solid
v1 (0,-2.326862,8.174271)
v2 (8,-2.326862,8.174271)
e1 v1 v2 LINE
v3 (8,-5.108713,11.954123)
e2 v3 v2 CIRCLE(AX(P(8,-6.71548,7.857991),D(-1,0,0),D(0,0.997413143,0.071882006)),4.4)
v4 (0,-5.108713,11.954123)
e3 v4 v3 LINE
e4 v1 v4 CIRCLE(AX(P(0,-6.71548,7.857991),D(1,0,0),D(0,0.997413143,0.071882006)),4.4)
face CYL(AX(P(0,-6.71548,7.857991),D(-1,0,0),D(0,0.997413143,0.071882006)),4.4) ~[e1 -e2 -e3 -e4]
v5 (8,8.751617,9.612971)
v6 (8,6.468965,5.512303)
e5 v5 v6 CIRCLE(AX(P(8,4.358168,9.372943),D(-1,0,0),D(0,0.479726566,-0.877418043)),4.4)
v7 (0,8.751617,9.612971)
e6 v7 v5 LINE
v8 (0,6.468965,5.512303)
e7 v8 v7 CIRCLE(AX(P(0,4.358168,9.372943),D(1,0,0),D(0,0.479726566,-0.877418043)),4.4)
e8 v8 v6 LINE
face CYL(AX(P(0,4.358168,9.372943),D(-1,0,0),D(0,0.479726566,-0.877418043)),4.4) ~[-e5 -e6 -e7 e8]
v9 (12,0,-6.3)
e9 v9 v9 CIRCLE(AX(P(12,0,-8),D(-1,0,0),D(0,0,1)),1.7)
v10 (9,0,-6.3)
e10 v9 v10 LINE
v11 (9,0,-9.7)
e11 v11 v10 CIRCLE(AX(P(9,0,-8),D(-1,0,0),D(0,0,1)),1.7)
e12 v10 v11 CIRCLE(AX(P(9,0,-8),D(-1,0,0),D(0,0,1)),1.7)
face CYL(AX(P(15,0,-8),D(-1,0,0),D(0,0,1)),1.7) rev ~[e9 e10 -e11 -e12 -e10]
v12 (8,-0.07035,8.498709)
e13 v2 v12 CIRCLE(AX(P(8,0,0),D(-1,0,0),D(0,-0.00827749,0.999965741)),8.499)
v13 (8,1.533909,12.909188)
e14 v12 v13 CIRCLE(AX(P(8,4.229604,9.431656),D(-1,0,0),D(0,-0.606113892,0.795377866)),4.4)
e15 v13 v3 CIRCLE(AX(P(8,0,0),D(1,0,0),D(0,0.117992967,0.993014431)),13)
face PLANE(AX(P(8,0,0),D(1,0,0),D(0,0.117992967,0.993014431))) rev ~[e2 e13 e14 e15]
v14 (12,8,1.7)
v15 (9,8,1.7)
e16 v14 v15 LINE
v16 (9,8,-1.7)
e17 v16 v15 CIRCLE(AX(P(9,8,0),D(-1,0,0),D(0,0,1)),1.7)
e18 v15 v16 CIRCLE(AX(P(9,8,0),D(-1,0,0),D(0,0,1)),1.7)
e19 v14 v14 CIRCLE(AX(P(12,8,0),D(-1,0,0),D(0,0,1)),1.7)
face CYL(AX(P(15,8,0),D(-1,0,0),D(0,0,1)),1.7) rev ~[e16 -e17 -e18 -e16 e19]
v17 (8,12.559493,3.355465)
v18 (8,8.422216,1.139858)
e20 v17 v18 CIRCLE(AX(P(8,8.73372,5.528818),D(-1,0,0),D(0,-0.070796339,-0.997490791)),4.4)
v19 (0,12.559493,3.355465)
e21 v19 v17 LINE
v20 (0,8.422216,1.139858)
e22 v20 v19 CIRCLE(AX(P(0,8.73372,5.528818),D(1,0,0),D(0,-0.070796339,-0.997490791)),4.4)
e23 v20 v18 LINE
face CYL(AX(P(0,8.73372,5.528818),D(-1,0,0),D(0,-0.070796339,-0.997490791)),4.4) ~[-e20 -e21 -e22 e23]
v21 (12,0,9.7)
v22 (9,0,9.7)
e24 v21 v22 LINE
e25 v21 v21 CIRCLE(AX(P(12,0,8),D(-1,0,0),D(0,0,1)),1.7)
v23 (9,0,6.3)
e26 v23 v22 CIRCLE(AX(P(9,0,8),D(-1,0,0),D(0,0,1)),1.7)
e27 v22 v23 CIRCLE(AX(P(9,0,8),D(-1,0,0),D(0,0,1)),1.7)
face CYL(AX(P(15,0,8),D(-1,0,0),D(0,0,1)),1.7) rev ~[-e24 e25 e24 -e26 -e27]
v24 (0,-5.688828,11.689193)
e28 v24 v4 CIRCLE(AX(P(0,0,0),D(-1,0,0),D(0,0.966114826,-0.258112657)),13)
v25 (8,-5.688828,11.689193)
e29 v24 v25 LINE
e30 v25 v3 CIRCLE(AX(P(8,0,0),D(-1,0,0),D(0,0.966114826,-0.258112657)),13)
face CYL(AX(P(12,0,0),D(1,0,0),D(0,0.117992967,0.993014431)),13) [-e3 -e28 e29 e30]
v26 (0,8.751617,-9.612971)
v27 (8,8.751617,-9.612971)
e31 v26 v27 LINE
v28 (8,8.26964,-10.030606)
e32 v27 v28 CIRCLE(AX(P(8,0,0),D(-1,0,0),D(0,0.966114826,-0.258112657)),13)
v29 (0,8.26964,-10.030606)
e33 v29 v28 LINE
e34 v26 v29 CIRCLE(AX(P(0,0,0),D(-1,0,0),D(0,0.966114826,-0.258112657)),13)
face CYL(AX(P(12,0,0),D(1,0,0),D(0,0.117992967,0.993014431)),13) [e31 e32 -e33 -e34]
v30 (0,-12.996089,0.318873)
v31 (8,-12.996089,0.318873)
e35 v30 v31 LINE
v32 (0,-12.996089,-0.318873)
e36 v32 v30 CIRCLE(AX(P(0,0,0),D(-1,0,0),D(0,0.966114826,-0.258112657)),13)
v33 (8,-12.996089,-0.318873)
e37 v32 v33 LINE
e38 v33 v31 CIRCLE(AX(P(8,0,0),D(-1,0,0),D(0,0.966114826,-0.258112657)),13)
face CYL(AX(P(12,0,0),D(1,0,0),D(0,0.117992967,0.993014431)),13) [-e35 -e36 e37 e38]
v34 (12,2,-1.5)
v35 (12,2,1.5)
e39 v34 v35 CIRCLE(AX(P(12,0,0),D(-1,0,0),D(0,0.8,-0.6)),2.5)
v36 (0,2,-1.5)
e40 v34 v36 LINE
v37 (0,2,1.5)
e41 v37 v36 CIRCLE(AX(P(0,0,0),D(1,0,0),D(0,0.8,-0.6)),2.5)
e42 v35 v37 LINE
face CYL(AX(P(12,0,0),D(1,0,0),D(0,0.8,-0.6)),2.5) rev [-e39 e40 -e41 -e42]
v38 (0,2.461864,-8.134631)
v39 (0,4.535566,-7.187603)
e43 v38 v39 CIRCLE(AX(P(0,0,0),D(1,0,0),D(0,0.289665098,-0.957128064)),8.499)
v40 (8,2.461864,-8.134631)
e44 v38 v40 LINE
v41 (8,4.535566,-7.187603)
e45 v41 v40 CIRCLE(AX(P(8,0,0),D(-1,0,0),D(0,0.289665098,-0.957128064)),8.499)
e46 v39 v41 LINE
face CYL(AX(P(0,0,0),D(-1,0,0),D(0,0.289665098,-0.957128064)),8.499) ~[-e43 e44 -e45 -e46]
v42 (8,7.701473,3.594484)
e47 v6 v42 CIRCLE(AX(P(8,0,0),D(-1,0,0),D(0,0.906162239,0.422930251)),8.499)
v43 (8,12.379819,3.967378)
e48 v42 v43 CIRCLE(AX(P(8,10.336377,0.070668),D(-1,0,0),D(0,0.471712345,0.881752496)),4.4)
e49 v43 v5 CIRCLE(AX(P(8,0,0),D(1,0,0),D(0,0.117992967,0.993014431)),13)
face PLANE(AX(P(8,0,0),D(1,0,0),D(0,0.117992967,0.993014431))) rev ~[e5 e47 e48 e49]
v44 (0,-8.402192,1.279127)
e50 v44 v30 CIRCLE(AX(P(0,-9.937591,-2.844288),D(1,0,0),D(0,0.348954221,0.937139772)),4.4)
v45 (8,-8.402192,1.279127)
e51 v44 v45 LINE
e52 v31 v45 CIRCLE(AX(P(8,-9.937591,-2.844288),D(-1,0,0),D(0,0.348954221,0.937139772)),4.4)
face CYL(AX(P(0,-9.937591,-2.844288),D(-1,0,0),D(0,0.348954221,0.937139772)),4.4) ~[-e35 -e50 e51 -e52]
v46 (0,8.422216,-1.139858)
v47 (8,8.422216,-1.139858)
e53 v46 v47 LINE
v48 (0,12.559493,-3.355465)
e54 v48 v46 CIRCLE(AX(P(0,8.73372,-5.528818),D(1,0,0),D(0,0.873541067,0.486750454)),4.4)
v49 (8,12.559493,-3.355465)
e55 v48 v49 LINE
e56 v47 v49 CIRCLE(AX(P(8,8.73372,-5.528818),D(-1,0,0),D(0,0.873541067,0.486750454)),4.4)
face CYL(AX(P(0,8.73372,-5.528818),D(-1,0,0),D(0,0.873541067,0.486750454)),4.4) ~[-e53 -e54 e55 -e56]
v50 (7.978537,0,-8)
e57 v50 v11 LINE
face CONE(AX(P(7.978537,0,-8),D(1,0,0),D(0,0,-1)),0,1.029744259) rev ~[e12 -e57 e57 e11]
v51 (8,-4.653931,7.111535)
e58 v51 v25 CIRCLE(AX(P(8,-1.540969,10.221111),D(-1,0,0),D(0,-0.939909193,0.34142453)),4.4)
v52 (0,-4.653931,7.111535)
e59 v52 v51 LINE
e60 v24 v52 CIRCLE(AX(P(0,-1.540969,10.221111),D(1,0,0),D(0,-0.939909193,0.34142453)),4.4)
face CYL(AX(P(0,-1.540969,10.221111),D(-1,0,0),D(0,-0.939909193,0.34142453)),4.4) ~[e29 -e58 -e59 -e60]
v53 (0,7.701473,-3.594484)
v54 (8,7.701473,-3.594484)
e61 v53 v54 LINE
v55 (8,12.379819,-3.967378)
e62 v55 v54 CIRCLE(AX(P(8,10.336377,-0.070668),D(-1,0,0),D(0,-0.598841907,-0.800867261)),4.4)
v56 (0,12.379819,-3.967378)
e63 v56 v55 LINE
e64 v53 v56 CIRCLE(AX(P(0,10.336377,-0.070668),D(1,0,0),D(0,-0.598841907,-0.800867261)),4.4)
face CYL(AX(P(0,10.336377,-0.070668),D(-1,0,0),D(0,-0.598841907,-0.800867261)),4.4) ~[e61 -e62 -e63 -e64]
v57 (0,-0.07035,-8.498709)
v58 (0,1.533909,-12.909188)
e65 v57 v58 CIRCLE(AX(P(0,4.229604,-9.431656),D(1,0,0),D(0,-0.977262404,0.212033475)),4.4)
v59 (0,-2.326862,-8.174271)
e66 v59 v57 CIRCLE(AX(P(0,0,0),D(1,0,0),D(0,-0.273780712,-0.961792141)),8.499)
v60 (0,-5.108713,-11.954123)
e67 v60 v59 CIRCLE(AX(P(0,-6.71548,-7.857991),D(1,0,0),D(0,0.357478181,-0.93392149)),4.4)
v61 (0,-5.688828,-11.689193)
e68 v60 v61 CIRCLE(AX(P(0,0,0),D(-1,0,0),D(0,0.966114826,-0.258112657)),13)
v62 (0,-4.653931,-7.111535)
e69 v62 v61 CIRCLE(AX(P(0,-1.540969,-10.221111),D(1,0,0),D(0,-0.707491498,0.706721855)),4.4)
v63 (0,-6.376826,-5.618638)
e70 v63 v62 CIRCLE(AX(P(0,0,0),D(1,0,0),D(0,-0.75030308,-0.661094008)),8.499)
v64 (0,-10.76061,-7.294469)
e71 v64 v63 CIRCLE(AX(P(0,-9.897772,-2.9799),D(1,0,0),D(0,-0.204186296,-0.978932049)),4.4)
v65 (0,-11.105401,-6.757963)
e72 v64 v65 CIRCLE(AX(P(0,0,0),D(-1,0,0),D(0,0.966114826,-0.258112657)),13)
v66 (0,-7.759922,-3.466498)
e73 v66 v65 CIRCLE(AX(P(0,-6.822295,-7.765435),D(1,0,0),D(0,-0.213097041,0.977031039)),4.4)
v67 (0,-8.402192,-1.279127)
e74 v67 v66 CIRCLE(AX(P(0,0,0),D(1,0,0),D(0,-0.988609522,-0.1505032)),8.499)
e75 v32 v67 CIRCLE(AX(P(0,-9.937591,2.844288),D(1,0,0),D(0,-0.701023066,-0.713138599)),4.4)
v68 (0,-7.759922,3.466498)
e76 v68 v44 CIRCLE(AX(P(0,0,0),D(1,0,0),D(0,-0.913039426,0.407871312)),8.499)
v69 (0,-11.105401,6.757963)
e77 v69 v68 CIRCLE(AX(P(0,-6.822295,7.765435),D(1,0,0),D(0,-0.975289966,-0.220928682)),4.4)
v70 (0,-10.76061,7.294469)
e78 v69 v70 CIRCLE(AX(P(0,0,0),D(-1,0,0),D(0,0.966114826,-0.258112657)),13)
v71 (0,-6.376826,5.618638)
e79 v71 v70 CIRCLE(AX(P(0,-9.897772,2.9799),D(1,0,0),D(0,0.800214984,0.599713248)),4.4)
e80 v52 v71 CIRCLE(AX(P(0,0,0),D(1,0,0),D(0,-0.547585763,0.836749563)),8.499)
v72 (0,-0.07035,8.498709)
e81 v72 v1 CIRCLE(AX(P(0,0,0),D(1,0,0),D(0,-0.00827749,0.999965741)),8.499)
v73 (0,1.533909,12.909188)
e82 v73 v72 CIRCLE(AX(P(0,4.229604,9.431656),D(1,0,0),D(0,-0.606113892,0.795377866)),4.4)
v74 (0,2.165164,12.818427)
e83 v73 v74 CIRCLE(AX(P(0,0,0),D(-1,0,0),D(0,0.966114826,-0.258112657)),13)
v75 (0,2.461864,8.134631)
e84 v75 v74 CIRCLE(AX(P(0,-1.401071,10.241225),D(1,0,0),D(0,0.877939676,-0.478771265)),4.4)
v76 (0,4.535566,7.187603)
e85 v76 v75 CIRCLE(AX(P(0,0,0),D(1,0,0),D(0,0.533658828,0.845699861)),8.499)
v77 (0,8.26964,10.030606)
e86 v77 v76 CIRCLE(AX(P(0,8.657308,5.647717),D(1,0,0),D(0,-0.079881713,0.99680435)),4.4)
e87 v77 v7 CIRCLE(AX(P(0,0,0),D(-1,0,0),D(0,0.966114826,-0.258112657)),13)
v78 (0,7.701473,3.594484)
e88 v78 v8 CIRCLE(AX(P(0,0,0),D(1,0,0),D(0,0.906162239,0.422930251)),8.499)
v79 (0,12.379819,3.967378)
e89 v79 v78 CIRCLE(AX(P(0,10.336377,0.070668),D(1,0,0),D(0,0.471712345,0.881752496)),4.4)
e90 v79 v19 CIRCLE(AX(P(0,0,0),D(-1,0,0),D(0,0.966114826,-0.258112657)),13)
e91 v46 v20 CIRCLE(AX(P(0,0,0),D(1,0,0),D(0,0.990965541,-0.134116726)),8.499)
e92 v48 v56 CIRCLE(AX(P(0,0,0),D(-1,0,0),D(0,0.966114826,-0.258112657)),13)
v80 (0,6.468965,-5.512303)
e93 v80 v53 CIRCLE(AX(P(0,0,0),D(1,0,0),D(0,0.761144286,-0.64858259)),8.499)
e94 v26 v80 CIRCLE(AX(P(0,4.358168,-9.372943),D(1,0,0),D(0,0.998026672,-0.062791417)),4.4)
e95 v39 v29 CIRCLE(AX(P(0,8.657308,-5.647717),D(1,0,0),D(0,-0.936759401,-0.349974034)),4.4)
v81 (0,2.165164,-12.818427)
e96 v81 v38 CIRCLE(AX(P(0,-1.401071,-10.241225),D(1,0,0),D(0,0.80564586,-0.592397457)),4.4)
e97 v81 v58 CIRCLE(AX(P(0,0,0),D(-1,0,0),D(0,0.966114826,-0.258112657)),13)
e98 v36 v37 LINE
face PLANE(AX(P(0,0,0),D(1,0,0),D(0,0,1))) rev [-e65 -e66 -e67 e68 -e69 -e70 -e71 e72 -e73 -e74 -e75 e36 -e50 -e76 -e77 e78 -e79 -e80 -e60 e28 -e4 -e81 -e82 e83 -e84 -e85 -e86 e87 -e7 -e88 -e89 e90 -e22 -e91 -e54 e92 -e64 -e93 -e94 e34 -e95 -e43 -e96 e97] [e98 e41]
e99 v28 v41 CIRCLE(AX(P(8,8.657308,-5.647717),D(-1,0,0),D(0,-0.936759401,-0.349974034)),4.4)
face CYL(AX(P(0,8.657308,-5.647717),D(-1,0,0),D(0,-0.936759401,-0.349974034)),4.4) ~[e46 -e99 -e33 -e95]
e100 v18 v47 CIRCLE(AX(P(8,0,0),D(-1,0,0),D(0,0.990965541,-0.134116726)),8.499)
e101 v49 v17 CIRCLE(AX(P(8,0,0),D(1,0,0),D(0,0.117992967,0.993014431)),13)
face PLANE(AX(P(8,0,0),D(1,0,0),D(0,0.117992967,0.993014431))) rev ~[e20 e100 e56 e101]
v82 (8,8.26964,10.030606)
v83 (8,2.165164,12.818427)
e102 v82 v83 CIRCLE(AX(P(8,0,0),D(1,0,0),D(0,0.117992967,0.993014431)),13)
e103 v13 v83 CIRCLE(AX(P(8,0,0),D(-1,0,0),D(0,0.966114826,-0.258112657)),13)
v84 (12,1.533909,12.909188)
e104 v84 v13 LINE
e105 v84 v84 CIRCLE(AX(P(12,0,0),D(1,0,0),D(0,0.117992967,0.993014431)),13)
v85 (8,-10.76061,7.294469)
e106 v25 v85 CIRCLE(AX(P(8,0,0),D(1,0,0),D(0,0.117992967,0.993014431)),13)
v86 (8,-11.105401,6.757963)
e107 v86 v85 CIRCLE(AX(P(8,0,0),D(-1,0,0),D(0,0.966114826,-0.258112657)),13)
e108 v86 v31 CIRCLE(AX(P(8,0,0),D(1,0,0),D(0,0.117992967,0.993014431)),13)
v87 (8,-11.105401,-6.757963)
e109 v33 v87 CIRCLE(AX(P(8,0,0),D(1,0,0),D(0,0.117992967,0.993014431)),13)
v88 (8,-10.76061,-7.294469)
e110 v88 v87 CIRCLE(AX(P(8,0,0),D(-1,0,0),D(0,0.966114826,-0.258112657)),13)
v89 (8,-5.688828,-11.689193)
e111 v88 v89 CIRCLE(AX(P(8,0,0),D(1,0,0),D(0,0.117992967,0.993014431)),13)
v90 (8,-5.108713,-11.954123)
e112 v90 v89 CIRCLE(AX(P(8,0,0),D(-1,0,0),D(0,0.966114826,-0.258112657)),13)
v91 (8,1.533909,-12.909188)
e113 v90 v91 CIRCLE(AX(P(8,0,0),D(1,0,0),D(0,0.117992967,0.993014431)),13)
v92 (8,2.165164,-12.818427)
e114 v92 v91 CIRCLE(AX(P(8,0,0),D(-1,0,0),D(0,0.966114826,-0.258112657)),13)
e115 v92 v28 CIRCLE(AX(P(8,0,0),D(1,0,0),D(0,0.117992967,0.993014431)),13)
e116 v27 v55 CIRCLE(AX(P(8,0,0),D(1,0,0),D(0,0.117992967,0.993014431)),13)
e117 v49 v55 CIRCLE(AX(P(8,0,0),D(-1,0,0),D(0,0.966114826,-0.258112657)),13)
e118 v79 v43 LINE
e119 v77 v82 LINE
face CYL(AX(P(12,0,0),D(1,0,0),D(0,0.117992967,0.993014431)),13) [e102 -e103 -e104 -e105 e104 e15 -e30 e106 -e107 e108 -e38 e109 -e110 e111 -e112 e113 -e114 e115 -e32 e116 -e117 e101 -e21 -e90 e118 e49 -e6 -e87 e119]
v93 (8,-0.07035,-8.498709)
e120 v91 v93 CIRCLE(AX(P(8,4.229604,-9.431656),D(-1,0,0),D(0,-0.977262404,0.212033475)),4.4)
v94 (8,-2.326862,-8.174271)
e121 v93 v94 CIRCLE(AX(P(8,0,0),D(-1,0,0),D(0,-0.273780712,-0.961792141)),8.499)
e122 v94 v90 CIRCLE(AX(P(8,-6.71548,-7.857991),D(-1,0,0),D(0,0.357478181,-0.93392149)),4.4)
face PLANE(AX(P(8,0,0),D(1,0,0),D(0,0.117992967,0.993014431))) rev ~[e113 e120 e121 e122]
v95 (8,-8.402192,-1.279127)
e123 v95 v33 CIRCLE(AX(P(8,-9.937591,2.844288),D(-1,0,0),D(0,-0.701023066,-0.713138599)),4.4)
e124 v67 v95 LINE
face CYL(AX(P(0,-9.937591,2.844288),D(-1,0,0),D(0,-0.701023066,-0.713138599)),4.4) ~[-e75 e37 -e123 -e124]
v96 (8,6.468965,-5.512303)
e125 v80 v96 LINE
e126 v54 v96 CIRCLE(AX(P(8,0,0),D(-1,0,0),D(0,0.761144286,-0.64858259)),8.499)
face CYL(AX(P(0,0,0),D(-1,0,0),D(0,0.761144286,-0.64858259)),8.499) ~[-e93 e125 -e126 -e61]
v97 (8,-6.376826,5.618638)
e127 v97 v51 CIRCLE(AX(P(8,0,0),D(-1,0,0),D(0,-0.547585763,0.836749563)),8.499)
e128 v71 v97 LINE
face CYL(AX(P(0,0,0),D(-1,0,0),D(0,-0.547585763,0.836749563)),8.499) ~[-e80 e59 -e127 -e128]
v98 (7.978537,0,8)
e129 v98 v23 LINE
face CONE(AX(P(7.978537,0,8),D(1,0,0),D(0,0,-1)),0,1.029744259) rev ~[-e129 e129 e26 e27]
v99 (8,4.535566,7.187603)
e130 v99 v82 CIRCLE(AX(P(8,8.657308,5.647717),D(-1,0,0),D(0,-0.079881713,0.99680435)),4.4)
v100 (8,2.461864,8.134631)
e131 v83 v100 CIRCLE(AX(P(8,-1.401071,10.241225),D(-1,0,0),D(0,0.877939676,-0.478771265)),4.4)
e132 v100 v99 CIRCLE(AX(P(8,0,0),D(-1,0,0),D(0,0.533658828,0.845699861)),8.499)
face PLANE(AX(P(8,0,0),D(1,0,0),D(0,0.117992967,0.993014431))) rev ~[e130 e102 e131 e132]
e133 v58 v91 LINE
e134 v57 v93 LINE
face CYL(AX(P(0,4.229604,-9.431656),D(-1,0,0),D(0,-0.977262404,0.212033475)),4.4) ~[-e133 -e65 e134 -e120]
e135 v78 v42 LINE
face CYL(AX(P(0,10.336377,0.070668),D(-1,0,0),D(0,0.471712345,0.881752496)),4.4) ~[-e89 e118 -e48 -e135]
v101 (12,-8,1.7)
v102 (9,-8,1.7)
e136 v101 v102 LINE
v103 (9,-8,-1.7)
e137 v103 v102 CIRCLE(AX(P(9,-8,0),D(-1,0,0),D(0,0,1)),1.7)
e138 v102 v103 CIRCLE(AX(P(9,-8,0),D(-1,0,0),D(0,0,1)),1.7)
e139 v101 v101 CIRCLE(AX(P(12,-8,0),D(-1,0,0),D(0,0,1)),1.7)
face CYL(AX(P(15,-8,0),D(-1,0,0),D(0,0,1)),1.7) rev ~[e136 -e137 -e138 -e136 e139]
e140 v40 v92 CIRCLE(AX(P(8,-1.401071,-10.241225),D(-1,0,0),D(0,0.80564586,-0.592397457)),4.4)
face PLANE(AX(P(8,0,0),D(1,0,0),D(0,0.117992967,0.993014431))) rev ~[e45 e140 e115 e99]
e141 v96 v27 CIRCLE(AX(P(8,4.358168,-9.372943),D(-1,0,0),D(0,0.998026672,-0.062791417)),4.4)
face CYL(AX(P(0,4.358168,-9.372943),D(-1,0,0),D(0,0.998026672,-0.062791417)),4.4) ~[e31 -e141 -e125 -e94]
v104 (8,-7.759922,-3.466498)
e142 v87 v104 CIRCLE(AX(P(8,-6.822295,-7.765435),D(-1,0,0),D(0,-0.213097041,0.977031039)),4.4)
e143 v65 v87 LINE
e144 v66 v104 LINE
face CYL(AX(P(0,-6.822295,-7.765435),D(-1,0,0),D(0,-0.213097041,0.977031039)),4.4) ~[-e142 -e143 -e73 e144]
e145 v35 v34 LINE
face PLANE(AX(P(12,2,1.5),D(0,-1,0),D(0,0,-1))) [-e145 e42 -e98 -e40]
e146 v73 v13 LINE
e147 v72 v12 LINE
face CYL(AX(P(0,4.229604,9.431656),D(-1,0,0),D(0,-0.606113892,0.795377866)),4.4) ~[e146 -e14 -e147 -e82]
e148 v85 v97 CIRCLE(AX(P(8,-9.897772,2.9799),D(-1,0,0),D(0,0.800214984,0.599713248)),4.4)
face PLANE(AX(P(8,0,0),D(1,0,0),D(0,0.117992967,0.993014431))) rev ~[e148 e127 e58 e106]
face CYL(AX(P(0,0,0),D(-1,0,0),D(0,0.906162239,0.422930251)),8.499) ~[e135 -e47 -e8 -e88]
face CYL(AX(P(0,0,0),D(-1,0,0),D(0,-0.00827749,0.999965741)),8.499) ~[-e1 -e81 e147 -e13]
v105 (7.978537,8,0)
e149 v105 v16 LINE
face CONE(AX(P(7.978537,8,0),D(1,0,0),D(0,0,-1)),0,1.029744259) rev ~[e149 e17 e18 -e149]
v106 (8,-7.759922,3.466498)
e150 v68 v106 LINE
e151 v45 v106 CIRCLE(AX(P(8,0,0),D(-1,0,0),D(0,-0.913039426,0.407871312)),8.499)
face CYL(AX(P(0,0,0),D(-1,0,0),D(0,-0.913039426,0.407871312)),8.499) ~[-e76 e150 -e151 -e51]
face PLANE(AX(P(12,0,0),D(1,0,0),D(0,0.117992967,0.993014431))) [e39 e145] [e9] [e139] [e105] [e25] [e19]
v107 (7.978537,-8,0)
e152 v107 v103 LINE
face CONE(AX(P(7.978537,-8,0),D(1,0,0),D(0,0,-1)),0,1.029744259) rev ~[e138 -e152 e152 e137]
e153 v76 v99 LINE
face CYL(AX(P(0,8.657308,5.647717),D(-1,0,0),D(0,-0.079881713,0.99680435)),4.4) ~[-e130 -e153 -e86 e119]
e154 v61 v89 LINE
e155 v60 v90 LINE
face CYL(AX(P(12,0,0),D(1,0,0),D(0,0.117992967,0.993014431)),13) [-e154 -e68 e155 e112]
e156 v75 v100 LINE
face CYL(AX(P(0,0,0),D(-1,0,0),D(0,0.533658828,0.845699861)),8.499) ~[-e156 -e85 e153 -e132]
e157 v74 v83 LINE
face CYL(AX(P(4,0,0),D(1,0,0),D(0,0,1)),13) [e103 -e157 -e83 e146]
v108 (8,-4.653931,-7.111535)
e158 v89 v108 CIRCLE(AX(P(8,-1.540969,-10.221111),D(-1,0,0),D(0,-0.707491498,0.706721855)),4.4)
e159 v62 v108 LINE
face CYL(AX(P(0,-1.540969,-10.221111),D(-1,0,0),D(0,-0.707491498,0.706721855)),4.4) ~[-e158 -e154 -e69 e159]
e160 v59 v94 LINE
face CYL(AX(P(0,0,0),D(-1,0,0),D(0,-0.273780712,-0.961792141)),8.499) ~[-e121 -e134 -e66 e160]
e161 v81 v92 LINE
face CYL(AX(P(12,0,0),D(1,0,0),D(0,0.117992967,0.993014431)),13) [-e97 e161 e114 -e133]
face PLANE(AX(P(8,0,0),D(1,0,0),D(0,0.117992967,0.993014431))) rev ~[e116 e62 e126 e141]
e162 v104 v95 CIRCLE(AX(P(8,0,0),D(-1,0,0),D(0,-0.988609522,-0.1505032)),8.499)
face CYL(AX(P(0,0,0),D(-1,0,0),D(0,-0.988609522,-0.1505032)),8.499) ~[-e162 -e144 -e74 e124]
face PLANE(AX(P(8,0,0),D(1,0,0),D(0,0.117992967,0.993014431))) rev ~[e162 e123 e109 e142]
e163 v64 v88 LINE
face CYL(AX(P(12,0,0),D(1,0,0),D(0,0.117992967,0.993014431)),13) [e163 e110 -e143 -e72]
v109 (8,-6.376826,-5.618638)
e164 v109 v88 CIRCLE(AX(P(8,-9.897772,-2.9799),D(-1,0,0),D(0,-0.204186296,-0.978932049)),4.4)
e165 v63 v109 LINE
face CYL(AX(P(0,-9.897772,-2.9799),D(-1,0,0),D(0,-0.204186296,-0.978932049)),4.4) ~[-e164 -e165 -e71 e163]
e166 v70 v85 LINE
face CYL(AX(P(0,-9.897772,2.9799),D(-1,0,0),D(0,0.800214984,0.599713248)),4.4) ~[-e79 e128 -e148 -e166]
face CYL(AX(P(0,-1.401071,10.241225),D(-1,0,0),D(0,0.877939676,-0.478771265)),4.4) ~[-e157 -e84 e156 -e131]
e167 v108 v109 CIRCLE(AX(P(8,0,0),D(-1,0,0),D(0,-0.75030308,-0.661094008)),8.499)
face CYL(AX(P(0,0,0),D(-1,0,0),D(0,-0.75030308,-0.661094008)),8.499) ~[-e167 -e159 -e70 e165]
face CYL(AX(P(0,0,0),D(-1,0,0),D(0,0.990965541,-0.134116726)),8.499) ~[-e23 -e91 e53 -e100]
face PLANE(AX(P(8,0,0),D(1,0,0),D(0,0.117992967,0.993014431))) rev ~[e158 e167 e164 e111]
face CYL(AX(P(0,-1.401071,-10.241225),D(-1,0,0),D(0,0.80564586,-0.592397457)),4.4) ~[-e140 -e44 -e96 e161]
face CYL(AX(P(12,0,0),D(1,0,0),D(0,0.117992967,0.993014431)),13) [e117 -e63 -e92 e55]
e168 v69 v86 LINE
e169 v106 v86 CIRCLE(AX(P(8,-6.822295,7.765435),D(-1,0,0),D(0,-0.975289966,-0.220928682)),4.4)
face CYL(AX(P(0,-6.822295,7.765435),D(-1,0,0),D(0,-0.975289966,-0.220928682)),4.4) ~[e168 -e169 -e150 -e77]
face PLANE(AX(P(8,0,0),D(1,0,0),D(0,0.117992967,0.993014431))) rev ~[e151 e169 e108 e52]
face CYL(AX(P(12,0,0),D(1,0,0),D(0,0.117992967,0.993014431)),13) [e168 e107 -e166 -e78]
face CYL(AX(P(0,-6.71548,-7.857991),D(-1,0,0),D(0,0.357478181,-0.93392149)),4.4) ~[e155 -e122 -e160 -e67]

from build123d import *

# Parameters (mm, degrees)
BASPROSKE_W                  = 8
BASPROSKE_H                  = 13
TOOTHCUT_DEPTH               = 21.049937656
TEETHCUTS_COUNT              = 11
TEETHCUTS_ANGLE              = 327.272727273
BORSKE_R                     = 0.4
BORE_DEPTH                   = 50.0000508
ESTRUSIONE_ESTRUSIONE1_START = 4
SCHIZZO2_R                   = 13
ESTRUSIONE_ESTRUSIONE1_DEPTH = 4
TAGLIO_ESTRUSIONE1_DEPTH     = 14
FORO_PER_VITE_M3_1_D         = 3.4
FORO_PER_VITE_M3_1_DEPTH     = 3
FORO_PER_VITE_M3_1_TIP       = 1.021463052


with BuildPart() as part:
    # BasProSke → Base-Revolve (revolve)
    with BuildSketch(Plane(origin=(0, 0, 0), x_dir=(1, 0, 0), z_dir=(0, 1, 0)), mode=Mode.PRIVATE) as base_revolve_sk:
        with Locations((4, 6.5)):
            Rectangle(BASPROSKE_W, BASPROSKE_H)
    revolve(base_revolve_sk.sketch.rotate(Axis((-10, 0, 0), (1, 0, 0)), 180), axis=Axis((-10, 0, 0), (1, 0, 0)))

    # TooCutSke → ToothCut (cut, through all)
    with BuildSketch(Plane(origin=(0, 0, 0), x_dir=(0, 0, -1), z_dir=(1, 0, 0))):
        with BuildLine():
            ThreePointArc((1.139858048, 8.422216135), (0, 8.499), (-1.139858048, 8.422216135))
            ThreePointArc((-1.139858048, 8.422216135), (-1.658602184, 10.826907356), (-3.387115532, 12.577300725))
            ThreePointArc((-3.387115532, 12.577300725), (0, 13.0254), (3.387115532, 12.577300725))
            ThreePointArc((3.387115532, 12.577300725), (1.658602184, 10.826907356), (1.139858048, 8.422216135))
        make_face()
    toothcut = extrude(amount=TOOTHCUT_DEPTH, mode=Mode.SUBTRACT)

    # TeethCuts: ToothCut ×11 about axis
    teethcuts_axis = Axis((-10, 0, 0), (1, 0, 0))
    for i in range(1, TEETHCUTS_COUNT):
        add(toothcut.rotate(teethcuts_axis, i * TEETHCUTS_ANGLE / (TEETHCUTS_COUNT - 1)), mode=Mode.SUBTRACT)

    # BorSke → Bore (cut, symmetric)
    with BuildSketch(Plane(origin=(0, 0, 0), x_dir=(0, 0, -1), z_dir=(1, 0, 0))):
        with Locations(Location((0, 0, 0), (0, 0, 180))):
            Circle(BORSKE_R)
    extrude(amount=BORE_DEPTH, both=True, mode=Mode.SUBTRACT)

    # Schizzo2 → Estrusione-Estrusione1 (add)
    with BuildSketch(Plane(origin=(8, 0, 0), x_dir=(0, 0, -1), z_dir=(1, 0, 0)).offset(ESTRUSIONE_ESTRUSIONE1_START)):
        with Locations(Location((0, 0, 0), (0, 0, 173.223714884))):
            Circle(SCHIZZO2_R)
    extrude(amount=-ESTRUSIONE_ESTRUSIONE1_DEPTH)

    # Schizzo1 → Taglio-Estrusione1 (cut)
    with BuildSketch(Plane(origin=(12, 0, 0), x_dir=(0, 0, -1), z_dir=(1, 0, 0))):
        with BuildLine():
            Line((-1.5, 2), (1.5, 2))
            ThreePointArc((1.5, 2), (0, -2.5), (-1.5, 2))
        make_face()
    extrude(amount=-TAGLIO_ESTRUSIONE1_DEPTH, mode=Mode.SUBTRACT)

    # Foro per Vite M3-1
    with Locations(Plane(origin=(12, 0, 0), x_dir=(0, 0, -1), z_dir=(1, 0, 0))):
        with Locations((0, 8), (8, 0), (0, -8), (-8, 0)):
            Hole(FORO_PER_VITE_M3_1_D / 2, depth=FORO_PER_VITE_M3_1_DEPTH)
            with Locations((0, 0, -(FORO_PER_VITE_M3_1_DEPTH + FORO_PER_VITE_M3_1_TIP / 2))):  # 118° drill point
                Cone(0, FORO_PER_VITE_M3_1_D / 2, FORO_PER_VITE_M3_1_TIP, mode=Mode.SUBTRACT)


solid = part.part
